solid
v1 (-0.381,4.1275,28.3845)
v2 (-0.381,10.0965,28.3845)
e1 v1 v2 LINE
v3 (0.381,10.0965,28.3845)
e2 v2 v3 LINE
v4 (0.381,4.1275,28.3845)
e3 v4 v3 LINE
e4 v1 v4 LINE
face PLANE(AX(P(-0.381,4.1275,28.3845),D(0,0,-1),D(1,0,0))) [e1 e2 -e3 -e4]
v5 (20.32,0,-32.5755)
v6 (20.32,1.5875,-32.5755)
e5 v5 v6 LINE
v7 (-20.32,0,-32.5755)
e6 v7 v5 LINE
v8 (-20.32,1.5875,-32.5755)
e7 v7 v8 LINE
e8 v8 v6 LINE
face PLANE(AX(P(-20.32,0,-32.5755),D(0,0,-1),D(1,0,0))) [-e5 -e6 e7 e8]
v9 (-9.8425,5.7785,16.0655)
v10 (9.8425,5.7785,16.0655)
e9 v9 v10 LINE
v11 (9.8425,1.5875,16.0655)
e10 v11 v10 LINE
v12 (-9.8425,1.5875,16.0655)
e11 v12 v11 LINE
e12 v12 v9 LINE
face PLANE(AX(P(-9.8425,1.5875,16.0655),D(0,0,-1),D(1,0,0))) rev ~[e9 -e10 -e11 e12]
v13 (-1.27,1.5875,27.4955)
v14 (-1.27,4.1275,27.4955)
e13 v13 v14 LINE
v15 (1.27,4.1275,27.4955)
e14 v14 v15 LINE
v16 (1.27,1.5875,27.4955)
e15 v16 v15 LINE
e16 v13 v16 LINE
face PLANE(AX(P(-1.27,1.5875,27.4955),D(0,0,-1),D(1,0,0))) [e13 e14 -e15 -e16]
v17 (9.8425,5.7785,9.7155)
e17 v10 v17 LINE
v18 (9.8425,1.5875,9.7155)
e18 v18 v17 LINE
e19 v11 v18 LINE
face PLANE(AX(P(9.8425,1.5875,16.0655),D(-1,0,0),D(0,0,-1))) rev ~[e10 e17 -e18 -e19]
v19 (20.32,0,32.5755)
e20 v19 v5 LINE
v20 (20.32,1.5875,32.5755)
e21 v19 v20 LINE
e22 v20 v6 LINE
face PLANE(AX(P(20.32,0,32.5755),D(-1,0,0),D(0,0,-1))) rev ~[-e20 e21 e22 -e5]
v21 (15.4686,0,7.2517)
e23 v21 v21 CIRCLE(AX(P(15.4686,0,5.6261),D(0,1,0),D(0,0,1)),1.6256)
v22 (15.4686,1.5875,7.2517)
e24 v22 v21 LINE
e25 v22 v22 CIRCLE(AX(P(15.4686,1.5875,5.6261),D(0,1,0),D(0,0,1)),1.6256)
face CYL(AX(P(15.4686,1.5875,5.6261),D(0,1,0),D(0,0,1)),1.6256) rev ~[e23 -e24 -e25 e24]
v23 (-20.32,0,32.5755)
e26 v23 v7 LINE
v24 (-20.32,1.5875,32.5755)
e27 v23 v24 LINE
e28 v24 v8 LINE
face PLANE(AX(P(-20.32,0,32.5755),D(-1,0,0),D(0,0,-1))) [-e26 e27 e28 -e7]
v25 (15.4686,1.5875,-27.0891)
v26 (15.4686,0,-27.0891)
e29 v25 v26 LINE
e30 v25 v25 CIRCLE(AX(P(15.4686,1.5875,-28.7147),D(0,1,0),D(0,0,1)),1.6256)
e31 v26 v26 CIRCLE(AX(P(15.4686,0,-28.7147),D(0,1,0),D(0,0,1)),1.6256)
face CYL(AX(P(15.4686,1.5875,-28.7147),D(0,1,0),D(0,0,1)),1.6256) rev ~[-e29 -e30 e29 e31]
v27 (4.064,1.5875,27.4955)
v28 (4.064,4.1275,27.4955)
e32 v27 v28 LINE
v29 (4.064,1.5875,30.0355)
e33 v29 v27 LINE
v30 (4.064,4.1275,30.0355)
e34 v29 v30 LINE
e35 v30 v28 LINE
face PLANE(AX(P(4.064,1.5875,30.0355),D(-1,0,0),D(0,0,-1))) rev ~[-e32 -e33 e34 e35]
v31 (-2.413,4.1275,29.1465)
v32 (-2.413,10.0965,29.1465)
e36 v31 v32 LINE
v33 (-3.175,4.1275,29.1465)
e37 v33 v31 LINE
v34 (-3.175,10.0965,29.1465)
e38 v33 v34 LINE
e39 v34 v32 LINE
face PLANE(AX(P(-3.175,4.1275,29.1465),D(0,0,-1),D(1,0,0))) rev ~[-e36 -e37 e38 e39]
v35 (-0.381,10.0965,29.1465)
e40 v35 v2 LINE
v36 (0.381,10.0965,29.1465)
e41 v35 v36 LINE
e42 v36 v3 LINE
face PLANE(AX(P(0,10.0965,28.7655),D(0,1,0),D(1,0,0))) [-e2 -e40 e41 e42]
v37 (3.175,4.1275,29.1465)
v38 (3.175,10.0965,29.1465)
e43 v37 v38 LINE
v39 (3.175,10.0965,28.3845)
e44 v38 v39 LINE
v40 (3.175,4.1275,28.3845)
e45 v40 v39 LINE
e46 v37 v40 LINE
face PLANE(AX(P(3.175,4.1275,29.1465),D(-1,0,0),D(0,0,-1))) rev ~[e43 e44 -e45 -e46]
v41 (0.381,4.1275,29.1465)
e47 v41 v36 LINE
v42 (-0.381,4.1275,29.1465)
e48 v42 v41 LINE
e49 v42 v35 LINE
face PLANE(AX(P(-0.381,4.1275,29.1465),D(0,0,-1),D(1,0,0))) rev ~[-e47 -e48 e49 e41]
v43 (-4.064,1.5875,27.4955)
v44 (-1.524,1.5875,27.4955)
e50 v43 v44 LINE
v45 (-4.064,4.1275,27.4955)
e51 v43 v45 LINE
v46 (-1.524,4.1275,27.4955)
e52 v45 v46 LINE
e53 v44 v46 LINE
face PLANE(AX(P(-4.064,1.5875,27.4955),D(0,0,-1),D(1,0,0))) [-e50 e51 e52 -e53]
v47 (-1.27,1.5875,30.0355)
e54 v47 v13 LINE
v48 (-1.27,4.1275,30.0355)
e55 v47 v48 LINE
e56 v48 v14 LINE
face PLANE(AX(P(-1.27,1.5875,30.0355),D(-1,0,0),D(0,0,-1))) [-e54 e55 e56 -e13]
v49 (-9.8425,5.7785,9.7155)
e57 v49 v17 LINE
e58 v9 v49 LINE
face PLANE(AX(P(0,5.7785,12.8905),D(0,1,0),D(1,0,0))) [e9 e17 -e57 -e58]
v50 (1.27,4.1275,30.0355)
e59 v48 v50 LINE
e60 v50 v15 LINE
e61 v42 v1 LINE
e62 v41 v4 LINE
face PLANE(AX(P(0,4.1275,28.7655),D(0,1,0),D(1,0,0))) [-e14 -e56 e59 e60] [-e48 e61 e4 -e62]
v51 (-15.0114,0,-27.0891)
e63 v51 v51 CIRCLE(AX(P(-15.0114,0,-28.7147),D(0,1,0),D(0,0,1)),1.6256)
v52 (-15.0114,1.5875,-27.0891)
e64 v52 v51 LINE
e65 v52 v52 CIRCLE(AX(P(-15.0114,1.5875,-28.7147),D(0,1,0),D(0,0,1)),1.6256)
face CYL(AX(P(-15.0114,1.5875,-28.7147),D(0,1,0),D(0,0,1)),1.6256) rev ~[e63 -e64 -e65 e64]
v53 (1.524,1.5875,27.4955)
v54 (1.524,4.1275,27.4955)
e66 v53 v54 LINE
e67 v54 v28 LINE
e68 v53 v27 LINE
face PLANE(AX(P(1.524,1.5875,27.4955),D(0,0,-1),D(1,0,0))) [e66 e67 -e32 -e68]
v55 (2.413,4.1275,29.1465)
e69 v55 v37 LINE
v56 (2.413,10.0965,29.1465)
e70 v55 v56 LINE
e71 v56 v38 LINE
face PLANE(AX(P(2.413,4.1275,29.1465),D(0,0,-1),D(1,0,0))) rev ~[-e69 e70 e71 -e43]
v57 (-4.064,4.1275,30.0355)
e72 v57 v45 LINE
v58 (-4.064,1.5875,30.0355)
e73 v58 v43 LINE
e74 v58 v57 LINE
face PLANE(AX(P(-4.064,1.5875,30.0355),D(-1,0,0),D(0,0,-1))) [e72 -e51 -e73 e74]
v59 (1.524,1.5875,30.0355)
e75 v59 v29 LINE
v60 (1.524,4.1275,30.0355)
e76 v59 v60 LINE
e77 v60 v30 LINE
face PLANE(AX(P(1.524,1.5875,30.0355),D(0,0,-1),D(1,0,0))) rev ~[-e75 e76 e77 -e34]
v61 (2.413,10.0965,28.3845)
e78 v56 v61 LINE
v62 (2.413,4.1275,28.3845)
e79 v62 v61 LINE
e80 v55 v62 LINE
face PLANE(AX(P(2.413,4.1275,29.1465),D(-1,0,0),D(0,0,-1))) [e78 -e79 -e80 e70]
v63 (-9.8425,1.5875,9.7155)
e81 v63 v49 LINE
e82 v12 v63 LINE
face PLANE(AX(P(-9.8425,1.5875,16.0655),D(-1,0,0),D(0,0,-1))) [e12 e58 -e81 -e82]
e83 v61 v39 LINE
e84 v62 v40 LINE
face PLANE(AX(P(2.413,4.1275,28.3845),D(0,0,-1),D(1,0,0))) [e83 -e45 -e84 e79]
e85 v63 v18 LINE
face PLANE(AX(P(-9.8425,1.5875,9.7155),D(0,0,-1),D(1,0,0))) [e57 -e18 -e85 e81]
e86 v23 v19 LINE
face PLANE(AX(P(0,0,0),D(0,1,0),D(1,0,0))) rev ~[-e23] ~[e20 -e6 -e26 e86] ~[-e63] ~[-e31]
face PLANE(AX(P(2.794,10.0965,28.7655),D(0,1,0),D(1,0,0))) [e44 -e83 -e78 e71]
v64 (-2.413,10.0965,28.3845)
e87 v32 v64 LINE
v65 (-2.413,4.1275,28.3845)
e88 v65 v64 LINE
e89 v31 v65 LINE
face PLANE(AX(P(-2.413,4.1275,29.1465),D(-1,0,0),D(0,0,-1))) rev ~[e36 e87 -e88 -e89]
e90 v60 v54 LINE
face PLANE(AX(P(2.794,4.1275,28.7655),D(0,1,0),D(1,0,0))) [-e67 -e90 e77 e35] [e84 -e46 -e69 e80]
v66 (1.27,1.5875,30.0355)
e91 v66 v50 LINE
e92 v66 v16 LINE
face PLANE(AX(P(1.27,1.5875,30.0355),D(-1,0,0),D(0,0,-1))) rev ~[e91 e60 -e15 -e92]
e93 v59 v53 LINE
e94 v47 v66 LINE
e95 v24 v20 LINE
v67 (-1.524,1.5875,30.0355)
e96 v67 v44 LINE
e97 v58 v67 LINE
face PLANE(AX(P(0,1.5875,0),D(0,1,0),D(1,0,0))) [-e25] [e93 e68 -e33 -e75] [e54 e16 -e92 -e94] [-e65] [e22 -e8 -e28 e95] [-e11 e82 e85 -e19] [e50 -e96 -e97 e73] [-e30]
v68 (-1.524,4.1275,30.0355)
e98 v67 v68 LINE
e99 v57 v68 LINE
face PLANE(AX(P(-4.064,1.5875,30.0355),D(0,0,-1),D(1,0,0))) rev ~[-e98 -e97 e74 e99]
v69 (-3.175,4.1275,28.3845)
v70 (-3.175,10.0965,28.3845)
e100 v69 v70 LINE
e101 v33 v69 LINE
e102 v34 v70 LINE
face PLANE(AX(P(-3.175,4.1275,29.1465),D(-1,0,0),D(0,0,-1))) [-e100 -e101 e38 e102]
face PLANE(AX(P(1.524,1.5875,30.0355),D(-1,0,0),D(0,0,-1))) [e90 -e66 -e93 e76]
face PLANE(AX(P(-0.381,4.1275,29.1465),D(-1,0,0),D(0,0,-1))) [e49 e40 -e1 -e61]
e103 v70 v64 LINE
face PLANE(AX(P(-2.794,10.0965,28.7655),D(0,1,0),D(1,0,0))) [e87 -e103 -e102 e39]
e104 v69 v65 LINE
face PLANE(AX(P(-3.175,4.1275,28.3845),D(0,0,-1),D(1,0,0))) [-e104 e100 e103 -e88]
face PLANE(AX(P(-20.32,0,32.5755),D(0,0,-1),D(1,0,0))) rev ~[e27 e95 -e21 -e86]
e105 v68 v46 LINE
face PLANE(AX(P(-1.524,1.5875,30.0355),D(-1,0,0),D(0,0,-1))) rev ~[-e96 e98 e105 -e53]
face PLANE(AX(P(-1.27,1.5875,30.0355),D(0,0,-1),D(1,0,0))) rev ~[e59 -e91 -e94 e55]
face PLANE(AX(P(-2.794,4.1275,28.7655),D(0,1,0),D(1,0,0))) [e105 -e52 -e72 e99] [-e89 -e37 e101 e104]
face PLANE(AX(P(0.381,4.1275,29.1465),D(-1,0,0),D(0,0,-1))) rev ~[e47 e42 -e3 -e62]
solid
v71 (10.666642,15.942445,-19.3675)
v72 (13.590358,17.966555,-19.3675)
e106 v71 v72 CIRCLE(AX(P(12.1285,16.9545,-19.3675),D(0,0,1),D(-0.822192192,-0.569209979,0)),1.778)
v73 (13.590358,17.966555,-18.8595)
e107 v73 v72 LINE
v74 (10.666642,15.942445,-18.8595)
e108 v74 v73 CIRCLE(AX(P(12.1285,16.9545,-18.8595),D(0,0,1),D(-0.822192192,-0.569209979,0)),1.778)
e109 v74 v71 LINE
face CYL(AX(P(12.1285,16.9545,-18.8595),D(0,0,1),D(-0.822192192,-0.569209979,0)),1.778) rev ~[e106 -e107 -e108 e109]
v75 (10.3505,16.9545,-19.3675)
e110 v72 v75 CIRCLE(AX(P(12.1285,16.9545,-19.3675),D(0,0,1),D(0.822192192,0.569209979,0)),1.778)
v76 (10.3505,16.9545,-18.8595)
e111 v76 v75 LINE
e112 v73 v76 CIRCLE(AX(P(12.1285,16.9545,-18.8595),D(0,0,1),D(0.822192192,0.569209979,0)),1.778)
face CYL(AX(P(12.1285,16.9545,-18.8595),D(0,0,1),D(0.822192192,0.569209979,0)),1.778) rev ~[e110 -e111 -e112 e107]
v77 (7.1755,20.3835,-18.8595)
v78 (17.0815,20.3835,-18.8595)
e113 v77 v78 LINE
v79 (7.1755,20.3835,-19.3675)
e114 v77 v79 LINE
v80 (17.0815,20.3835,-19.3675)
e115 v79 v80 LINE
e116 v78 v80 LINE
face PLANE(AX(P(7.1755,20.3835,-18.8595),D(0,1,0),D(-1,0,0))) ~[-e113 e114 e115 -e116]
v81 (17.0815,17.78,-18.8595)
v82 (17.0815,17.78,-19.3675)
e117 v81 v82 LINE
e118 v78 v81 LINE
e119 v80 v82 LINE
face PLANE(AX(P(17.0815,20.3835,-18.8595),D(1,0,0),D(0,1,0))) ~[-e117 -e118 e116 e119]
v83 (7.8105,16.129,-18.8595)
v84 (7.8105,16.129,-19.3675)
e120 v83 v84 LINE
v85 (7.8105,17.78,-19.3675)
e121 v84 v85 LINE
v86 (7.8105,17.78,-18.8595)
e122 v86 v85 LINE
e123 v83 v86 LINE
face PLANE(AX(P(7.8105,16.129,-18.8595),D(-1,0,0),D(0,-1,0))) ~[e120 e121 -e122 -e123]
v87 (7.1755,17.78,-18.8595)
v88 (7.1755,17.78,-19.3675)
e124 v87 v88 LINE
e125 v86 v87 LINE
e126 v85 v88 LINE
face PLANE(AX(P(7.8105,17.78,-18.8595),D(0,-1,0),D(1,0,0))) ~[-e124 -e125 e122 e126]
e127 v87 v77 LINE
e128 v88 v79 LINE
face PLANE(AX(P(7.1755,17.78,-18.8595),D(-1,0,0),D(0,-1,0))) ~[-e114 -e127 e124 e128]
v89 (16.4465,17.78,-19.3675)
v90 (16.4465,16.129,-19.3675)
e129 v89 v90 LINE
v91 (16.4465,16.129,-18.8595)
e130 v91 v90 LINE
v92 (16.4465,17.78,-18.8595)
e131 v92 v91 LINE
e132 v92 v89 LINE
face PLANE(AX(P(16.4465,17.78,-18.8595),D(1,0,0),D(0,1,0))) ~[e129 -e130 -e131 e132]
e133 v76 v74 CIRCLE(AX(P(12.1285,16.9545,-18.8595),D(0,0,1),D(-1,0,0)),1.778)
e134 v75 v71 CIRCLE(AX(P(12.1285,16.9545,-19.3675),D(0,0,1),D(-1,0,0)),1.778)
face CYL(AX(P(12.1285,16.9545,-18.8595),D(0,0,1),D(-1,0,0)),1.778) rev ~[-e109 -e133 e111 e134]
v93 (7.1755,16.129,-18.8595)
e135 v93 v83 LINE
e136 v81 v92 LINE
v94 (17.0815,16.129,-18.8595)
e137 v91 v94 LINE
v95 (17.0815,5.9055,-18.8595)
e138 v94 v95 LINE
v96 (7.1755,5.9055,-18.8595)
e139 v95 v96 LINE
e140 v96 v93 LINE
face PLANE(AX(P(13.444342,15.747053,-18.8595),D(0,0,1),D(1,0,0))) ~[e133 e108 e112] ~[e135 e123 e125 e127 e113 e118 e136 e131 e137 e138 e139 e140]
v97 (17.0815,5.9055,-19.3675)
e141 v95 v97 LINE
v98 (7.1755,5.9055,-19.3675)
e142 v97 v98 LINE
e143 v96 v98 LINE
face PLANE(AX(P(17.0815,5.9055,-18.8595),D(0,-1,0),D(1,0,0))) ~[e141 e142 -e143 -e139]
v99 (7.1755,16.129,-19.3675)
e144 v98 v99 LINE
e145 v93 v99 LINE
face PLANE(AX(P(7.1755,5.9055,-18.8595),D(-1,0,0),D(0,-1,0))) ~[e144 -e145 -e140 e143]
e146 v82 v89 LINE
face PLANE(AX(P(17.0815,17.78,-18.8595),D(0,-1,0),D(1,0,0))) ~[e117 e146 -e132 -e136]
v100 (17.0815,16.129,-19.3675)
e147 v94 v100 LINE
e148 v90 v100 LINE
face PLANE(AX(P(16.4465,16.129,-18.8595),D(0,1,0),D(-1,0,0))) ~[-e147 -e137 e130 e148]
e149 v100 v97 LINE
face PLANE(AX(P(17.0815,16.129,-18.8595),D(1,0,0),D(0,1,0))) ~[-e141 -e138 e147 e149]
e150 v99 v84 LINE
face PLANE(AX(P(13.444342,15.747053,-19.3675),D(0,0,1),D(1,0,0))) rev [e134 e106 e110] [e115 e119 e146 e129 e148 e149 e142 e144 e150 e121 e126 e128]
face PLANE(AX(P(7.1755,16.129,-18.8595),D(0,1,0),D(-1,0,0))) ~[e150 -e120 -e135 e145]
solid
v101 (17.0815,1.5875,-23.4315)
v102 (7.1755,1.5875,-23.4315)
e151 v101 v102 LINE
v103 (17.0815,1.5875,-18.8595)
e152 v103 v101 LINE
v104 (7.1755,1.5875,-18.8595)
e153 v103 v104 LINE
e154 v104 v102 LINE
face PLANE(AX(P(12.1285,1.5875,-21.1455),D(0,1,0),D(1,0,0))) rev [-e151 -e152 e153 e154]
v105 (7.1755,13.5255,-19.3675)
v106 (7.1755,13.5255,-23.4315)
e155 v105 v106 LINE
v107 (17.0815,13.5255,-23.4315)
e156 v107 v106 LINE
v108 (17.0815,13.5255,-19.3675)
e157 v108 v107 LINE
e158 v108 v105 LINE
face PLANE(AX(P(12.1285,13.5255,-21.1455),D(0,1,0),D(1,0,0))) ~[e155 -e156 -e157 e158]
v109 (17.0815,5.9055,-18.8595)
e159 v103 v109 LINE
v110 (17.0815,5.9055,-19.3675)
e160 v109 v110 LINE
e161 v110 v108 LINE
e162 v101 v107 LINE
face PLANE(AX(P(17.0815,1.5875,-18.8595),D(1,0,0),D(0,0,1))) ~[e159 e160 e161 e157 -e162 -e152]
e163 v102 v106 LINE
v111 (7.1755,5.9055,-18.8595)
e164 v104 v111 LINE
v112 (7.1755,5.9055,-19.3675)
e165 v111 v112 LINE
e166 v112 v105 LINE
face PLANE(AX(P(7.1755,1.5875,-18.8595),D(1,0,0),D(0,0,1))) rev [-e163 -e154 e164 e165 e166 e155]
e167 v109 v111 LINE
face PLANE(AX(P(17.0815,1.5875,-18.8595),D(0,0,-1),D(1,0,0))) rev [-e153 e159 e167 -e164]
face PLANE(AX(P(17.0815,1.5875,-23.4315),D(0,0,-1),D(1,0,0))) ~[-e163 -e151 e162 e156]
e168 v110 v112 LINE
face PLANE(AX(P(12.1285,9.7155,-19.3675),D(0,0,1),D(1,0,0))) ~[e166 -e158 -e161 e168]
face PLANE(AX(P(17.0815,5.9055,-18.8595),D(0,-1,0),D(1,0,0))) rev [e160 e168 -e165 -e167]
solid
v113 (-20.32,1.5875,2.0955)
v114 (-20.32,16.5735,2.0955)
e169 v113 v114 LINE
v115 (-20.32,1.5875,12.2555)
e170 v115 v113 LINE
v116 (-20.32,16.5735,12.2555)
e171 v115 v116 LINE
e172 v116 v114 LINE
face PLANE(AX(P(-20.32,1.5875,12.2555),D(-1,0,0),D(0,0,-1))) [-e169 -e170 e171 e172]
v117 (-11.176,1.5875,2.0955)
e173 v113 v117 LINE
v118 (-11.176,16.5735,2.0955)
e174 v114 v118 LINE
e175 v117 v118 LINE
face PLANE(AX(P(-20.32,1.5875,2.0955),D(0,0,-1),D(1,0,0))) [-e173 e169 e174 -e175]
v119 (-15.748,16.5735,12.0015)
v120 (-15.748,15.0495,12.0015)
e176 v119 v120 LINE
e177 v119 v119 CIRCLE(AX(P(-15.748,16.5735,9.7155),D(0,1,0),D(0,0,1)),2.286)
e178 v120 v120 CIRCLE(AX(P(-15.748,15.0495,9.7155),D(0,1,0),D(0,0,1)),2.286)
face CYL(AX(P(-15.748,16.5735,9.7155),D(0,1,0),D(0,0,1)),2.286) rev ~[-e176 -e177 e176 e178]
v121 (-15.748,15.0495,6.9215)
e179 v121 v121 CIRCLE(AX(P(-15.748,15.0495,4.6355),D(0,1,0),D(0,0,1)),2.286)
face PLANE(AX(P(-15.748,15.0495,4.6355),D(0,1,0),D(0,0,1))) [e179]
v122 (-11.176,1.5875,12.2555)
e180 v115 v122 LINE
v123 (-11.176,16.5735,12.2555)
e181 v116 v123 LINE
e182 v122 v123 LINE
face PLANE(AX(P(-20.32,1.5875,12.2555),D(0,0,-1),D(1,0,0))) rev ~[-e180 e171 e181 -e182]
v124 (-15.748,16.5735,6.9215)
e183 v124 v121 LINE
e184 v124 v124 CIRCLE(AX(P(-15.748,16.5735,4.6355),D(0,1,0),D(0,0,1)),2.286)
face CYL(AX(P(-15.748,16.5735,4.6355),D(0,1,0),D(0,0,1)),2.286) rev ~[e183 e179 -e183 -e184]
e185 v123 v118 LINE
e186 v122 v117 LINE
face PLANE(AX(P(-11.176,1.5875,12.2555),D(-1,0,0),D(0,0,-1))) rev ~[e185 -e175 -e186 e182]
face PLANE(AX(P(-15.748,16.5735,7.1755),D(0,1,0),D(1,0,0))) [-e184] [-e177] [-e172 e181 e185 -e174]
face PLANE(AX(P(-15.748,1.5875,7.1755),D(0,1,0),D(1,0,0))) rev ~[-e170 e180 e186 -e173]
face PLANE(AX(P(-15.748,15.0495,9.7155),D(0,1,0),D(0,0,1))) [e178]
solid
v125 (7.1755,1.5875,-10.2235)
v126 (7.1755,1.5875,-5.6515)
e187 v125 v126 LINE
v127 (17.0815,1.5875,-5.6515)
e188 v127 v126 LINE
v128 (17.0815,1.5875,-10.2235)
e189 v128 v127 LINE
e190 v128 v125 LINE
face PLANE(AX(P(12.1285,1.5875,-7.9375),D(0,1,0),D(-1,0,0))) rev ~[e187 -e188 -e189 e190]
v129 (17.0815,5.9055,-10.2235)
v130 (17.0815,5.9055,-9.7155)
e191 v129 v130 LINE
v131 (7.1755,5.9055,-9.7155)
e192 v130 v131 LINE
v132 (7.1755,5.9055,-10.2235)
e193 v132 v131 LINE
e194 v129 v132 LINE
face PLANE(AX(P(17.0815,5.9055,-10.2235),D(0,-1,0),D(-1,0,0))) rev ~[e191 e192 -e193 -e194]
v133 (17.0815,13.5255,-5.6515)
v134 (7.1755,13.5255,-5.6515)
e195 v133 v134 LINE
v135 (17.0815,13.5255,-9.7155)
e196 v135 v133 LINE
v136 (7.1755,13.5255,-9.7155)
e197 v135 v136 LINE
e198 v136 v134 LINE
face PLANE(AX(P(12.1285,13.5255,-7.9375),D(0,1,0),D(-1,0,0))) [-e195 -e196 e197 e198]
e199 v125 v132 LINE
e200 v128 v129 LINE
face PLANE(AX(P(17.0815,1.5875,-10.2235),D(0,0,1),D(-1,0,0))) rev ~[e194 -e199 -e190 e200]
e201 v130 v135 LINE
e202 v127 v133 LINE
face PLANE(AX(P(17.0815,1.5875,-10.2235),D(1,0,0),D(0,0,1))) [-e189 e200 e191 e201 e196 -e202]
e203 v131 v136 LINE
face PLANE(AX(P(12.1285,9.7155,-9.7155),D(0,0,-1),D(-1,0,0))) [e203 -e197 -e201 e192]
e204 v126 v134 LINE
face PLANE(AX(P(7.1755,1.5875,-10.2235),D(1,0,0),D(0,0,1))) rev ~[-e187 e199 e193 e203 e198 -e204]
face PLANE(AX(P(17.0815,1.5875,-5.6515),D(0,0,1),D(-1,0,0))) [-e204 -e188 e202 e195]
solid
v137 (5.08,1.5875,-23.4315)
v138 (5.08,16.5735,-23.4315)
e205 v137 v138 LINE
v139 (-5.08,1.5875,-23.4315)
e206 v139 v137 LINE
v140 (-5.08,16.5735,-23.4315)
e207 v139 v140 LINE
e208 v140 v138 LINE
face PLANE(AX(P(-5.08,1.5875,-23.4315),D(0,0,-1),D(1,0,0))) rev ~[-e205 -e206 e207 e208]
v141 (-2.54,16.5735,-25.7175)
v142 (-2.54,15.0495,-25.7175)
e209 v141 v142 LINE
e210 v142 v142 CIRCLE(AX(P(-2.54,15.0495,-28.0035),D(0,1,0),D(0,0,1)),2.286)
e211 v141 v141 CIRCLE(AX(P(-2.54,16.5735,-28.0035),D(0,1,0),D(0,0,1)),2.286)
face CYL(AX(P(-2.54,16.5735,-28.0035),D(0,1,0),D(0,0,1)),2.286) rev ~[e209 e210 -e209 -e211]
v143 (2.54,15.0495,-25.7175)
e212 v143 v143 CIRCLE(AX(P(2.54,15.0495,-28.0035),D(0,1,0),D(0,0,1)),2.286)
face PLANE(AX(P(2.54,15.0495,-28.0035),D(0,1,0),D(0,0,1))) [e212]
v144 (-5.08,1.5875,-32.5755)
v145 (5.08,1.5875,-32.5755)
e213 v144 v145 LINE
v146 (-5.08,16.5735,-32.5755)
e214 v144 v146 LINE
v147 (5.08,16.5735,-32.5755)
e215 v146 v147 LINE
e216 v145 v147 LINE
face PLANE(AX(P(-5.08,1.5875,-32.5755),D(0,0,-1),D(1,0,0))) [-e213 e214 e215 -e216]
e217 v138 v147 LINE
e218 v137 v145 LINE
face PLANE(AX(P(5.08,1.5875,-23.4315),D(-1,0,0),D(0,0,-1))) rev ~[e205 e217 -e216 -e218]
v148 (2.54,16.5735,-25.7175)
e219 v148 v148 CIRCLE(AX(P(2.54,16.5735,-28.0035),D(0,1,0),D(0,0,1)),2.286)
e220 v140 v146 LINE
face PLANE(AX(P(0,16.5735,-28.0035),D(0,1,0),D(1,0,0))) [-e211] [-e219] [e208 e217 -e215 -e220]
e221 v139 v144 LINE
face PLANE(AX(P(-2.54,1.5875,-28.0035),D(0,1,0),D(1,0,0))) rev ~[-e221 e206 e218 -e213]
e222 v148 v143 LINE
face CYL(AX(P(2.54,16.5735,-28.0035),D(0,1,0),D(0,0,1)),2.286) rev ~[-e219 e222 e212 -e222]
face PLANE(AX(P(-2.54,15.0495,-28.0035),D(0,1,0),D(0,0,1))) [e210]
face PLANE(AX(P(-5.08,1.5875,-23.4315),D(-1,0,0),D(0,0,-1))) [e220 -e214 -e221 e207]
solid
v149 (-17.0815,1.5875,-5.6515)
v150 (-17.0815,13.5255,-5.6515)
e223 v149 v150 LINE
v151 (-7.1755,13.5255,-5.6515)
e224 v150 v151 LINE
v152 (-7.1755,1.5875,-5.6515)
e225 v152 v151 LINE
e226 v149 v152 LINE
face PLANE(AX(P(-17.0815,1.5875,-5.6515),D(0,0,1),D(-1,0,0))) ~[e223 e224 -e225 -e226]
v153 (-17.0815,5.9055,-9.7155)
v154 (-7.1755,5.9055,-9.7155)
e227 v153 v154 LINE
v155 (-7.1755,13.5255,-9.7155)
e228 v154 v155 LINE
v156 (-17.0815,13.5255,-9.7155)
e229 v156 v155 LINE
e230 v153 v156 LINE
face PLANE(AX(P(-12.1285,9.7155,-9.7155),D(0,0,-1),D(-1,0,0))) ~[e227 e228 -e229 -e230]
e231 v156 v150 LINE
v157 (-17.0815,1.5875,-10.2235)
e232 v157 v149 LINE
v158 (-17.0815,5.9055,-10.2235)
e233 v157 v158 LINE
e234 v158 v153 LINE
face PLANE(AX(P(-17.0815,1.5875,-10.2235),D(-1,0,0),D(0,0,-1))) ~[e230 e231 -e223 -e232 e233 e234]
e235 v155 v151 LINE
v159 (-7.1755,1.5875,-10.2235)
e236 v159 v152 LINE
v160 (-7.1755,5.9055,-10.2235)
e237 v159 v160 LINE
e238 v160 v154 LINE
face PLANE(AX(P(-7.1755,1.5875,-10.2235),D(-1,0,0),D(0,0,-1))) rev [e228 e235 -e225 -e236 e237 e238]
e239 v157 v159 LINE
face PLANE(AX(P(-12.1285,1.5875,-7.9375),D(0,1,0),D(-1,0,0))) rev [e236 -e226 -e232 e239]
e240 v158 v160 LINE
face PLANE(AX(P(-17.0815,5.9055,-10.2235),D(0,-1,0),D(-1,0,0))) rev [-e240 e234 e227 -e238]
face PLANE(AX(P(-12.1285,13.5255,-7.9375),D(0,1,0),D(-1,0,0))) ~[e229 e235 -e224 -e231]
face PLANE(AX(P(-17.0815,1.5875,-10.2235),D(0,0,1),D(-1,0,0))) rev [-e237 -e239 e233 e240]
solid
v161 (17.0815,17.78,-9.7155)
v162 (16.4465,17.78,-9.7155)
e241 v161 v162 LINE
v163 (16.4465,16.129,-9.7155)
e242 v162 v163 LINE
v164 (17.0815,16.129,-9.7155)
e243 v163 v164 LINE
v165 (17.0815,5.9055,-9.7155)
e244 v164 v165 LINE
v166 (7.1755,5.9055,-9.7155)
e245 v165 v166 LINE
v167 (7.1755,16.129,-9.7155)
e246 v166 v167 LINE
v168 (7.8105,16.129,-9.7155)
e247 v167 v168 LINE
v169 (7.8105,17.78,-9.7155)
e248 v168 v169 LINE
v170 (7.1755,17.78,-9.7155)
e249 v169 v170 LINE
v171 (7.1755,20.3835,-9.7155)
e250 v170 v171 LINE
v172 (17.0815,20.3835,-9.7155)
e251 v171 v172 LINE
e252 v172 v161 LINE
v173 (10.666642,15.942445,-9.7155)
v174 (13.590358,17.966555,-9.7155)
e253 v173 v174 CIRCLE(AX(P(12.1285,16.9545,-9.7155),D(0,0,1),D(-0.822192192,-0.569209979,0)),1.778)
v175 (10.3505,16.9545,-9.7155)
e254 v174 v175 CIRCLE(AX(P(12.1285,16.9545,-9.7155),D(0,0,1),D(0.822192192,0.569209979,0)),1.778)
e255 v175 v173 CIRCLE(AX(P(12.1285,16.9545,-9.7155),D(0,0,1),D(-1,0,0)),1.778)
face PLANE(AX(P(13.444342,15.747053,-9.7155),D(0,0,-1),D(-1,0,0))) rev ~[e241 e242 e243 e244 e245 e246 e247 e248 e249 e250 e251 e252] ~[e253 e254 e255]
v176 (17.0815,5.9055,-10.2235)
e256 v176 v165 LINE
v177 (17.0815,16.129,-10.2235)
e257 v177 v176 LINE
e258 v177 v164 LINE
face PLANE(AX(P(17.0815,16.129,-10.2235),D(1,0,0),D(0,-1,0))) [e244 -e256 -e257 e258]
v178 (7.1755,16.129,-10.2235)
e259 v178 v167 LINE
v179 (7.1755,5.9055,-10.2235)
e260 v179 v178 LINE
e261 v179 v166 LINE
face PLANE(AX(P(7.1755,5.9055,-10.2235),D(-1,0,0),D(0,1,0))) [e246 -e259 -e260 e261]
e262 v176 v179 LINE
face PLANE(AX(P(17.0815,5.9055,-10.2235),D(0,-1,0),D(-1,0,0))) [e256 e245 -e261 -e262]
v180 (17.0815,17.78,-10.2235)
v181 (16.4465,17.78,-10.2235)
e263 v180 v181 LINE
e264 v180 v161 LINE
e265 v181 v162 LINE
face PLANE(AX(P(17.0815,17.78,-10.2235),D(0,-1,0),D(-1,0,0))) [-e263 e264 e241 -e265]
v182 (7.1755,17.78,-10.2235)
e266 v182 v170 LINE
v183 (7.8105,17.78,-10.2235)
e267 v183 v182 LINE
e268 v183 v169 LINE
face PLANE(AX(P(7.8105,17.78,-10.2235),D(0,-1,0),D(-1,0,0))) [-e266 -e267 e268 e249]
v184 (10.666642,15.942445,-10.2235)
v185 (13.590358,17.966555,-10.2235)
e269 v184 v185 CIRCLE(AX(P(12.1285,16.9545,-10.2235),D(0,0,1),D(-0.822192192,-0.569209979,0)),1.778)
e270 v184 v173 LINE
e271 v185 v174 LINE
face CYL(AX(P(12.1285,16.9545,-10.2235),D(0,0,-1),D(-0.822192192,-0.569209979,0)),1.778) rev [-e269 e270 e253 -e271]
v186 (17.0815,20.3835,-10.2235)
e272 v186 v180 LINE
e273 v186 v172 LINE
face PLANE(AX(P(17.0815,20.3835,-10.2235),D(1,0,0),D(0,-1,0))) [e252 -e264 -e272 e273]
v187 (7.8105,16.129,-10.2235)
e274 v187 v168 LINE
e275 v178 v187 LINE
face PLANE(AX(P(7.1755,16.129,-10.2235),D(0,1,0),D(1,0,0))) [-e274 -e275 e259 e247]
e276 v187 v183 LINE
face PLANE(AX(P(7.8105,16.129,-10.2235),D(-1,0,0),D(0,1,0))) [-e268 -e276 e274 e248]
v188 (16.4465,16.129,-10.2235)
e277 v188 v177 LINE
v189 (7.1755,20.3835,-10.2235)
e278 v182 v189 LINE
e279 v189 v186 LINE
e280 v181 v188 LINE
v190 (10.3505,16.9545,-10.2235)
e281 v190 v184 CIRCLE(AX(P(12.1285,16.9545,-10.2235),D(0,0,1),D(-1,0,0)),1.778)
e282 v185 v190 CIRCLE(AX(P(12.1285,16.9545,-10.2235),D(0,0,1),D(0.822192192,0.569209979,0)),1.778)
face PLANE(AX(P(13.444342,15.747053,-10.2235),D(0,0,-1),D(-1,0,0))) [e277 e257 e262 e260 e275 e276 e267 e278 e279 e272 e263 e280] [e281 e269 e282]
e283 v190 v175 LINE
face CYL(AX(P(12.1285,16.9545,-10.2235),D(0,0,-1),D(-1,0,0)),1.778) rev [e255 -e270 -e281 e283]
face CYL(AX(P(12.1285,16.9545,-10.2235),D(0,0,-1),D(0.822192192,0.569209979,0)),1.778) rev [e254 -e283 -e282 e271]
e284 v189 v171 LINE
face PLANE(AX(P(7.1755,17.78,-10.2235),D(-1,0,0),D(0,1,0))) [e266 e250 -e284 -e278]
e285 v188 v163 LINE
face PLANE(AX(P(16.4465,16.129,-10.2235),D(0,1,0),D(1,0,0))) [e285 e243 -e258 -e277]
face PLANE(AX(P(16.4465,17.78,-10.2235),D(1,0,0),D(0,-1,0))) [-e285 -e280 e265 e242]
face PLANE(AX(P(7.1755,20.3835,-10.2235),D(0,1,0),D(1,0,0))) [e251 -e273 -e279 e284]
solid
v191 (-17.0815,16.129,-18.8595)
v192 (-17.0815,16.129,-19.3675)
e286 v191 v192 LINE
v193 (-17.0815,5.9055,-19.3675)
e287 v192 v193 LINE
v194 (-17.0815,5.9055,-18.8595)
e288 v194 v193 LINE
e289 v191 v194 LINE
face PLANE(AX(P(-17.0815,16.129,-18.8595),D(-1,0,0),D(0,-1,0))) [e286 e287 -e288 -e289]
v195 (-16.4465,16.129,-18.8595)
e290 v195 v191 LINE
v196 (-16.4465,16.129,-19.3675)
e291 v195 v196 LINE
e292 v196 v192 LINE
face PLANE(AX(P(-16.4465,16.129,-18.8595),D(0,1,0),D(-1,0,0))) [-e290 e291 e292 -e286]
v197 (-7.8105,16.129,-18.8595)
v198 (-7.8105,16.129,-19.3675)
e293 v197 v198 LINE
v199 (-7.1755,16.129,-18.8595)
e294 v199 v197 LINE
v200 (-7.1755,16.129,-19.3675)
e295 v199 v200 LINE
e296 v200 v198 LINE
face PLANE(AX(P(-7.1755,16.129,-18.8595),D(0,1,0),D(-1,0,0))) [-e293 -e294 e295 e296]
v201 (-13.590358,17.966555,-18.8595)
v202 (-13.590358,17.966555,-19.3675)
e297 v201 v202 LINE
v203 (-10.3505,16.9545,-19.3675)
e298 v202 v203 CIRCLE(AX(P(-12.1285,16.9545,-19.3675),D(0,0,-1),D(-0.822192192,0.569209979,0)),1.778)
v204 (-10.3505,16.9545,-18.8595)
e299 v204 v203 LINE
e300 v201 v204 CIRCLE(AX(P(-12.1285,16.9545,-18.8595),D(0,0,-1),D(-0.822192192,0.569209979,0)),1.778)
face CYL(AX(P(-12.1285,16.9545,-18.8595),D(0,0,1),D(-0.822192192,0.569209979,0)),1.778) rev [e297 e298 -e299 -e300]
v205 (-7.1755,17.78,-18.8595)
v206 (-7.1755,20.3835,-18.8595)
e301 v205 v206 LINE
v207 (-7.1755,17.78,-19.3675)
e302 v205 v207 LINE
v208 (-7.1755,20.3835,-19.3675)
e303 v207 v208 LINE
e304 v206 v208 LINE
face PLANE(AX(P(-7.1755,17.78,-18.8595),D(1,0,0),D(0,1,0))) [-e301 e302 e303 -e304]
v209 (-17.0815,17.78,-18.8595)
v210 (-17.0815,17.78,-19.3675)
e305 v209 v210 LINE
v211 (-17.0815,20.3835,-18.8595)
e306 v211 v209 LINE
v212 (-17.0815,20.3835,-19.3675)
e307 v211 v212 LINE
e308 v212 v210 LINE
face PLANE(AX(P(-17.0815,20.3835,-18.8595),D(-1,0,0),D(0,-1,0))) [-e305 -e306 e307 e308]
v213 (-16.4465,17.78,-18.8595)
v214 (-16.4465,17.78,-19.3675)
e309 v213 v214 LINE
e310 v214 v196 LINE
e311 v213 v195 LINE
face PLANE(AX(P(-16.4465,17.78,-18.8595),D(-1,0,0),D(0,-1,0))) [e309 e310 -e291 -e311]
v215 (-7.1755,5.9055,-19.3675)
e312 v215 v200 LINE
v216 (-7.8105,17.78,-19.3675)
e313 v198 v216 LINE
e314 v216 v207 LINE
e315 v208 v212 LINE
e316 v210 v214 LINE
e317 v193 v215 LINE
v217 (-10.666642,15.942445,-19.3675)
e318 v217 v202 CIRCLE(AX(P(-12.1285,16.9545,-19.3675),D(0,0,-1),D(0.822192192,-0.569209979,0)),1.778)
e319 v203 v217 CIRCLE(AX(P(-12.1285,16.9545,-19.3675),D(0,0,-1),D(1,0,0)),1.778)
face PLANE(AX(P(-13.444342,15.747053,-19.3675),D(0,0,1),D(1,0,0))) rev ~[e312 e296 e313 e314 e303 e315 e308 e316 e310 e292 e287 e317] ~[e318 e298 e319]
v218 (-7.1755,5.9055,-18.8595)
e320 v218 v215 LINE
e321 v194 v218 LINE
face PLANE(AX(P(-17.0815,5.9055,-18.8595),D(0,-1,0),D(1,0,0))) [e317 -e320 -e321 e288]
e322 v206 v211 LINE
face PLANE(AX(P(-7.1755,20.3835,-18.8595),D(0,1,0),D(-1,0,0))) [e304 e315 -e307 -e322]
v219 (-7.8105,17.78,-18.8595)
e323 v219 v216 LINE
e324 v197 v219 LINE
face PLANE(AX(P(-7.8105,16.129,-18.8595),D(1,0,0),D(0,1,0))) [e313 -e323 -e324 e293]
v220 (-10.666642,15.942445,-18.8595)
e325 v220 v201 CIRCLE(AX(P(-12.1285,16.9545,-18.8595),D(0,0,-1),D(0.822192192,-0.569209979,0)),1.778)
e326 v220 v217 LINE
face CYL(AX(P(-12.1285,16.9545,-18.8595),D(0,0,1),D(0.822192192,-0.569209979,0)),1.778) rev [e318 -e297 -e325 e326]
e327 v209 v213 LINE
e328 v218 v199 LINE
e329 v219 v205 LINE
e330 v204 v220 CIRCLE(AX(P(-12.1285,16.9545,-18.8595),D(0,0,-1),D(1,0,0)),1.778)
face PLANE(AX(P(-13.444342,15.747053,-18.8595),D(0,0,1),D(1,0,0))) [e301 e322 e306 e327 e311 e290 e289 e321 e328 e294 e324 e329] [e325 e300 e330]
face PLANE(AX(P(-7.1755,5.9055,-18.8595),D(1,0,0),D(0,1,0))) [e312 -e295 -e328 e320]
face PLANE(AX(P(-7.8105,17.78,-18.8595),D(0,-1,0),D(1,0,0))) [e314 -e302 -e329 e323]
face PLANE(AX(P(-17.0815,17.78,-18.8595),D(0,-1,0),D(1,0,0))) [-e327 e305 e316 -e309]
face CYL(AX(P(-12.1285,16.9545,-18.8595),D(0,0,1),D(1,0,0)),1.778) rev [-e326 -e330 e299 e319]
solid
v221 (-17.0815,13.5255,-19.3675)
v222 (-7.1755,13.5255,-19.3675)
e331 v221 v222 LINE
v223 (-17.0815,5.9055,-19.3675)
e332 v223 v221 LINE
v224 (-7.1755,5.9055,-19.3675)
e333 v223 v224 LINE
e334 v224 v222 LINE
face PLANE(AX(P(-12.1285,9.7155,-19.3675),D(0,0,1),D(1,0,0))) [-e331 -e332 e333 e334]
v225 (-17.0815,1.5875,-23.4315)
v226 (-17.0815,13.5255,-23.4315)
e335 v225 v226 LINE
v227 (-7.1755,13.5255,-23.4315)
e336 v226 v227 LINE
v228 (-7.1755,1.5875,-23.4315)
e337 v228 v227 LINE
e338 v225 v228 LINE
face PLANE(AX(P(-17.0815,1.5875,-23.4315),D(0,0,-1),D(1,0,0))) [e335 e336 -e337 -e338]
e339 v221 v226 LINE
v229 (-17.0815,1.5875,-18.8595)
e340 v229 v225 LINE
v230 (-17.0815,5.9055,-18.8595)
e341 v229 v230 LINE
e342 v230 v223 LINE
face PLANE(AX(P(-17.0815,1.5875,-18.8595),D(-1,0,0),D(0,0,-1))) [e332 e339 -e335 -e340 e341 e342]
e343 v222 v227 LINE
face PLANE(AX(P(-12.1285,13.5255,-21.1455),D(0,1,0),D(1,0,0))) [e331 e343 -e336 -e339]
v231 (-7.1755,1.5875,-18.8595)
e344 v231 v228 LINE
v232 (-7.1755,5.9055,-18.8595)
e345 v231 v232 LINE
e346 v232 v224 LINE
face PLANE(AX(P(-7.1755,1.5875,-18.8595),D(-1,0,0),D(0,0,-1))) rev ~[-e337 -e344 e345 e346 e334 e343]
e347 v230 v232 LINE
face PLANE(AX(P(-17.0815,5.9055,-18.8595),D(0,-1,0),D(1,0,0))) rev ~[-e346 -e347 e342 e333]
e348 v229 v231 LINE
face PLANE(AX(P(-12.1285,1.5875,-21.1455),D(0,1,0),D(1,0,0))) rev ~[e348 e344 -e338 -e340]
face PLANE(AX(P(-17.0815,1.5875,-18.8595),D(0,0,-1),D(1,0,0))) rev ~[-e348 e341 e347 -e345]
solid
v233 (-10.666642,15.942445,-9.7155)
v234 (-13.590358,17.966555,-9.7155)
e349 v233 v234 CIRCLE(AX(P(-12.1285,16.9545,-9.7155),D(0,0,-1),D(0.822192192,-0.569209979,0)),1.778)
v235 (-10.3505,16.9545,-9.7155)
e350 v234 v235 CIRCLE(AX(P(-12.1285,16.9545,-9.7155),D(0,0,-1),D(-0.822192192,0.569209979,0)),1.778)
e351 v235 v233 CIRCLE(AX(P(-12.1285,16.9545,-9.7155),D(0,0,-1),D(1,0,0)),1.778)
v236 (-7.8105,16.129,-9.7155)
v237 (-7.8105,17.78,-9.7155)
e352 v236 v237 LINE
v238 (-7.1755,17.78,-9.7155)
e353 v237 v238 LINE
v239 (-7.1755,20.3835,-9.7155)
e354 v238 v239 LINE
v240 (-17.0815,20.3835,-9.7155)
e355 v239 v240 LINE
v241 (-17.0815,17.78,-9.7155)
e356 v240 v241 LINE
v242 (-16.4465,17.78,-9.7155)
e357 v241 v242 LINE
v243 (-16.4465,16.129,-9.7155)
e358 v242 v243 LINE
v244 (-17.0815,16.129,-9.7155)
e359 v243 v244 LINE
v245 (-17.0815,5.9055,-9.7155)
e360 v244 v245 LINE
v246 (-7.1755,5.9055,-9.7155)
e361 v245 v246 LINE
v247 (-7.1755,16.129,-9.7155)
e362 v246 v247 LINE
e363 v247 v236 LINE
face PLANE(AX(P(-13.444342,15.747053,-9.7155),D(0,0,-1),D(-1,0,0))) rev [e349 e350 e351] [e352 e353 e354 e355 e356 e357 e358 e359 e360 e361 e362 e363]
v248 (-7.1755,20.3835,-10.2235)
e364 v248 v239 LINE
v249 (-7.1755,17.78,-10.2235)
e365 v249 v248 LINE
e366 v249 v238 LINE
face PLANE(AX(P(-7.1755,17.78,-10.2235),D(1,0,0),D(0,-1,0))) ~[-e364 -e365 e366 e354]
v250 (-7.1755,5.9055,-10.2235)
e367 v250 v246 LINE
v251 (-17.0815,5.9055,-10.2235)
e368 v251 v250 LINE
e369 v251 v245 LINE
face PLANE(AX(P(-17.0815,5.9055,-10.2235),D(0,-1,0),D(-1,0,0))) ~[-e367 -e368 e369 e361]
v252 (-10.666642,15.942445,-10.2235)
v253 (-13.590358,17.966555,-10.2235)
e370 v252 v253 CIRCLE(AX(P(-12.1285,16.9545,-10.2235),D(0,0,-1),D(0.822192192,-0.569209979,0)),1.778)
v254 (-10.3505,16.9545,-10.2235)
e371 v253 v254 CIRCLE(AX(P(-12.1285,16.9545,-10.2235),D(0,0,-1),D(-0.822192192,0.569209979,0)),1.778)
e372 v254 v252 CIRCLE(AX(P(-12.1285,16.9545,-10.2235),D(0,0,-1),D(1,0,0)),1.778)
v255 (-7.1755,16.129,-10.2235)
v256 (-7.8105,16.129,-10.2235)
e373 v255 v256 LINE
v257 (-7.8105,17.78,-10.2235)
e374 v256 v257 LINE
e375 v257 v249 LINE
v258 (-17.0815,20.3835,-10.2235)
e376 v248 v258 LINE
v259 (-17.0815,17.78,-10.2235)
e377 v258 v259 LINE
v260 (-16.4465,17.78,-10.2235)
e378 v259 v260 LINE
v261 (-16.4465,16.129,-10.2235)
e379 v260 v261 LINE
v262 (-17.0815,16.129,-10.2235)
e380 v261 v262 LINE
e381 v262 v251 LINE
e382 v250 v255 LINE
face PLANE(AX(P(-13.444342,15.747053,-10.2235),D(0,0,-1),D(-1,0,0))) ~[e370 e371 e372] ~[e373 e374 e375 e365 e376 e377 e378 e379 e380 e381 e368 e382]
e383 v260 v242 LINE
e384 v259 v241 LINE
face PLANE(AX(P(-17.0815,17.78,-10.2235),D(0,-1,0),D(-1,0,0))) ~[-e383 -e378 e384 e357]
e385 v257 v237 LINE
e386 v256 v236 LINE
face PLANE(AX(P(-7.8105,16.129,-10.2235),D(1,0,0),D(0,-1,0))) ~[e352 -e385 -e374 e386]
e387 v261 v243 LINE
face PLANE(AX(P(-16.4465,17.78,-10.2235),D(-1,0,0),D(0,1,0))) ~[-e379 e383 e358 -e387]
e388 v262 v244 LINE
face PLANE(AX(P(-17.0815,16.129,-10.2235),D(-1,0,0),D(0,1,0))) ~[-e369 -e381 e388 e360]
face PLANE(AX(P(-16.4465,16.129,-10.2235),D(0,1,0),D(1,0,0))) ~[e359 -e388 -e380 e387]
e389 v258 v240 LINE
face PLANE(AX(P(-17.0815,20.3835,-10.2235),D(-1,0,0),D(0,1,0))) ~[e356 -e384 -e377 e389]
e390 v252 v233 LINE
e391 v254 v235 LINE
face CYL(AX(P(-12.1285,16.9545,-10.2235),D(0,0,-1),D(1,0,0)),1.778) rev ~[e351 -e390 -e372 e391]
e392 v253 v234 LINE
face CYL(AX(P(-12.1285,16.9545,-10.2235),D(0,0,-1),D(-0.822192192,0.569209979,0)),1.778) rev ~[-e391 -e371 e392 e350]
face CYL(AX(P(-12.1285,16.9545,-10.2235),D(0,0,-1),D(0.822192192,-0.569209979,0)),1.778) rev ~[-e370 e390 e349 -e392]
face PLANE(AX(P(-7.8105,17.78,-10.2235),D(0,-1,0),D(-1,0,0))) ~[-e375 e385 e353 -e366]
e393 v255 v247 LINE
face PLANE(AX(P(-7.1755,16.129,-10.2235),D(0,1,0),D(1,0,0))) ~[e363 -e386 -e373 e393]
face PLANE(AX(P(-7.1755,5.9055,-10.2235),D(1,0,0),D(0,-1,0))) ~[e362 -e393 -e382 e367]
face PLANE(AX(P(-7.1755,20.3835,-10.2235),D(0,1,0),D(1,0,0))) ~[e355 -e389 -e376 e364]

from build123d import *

# Parameters (mm, degrees)
SKETCH1_W           = 40.64
SKETCH1_H           = 65.151
BOSS_EXTRUDE1_DEPTH = 1.5875
SKETCH2_R           = 1.6256
CUT_EXTRUDE1_DEPTH  = 39.426367985
SKETCH3_W           = 9.144
SKETCH3_H           = 10.16
SKETCH3_R           = 2.286
SKETCH3_W_2         = 10.16
SKETCH3_H_2         = 9.144
BOSS_EXTRUDE2_DEPTH = 14.986
CUT_EXTRUDE2_START  = 14.986
SKETCH3_3_R         = 2.286
CUT_EXTRUDE2_DEPTH  = 1.524
SKETCH4_W           = 9.906
SKETCH4_H           = 4.572
BOSS_EXTRUDE3_DEPTH = 11.938
SKETCH5_W           = 9.906
SKETCH5_H           = 7.62
BOSS_EXTRUDE4_DEPTH = 0.508
SKETCH5_3_W         = 9.906
SKETCH5_3_H         = 7.62
CUT_EXTRUDE3_DEPTH  = 0.508
SKETCH6_W           = 2.54
SKETCH6_H           = 2.54
BOSS_EXTRUDE5_DEPTH = 2.54
SKETCH7_W           = 0.762
SKETCH7_H           = 0.762
BOSS_EXTRUDE6_DEPTH = 5.969
SKETCH8_W           = 19.685
SKETCH8_H           = 6.35
BOSS_EXTRUDE7_DEPTH = 4.191


with BuildPart() as part:
    # Sketch1 → Boss-Extrude1 (new body)
    with BuildSketch(Plane(origin=(0, 0, 0), x_dir=(1, 0, 0), z_dir=(0, 1, 0))):
        Rectangle(SKETCH1_W, SKETCH1_H)
    extrude(amount=BOSS_EXTRUDE1_DEPTH)

    # Sketch2 → Cut-Extrude1 (cut, through all)
    with BuildSketch(Plane(origin=(0, 1.5875, 0), x_dir=(1, 0, 0), z_dir=(0, 1, 0))):
        with Locations(Location((-15.0114, 28.7147, 0), (0, 0, 270))):
            Circle(SKETCH2_R)
        with Locations(Location((15.4686, 28.7147, 0), (0, 0, 270))):
            Circle(SKETCH2_R)
        with Locations(Location((15.4686, -5.6261, 0), (0, 0, 270))):
            Circle(SKETCH2_R)
    extrude(amount=-CUT_EXTRUDE1_DEPTH, mode=Mode.SUBTRACT)

    # Sketch6 → Boss-Extrude5 (add)
    with BuildSketch(Plane(origin=(0, 1.5875, 0), x_dir=(1, 0, 0), z_dir=(0, 1, 0))):
        with Locations((0, -28.7655)):
            Rectangle(SKETCH6_W, SKETCH6_H)
        with Locations((2.794, -28.7655)):
            Rectangle(SKETCH6_W, SKETCH6_H)
        with Locations((-2.794, -28.7655)):
            Rectangle(SKETCH6_W, SKETCH6_H)
    extrude(amount=BOSS_EXTRUDE5_DEPTH)

    # Sketch7 → Boss-Extrude6 (add)
    with BuildSketch(Plane(origin=(0, 4.1275, 0), x_dir=(1, 0, 0), z_dir=(0, 1, 0))):
        with Locations((-2.794, -28.7655)):
            Rectangle(SKETCH7_W, SKETCH7_H)
        with Locations((0, -28.7655)):
            Rectangle(SKETCH7_W, SKETCH7_H)
        with Locations((2.794, -28.7655)):
            Rectangle(SKETCH7_W, SKETCH7_H)
    extrude(amount=BOSS_EXTRUDE6_DEPTH)

    # Sketch8 → Boss-Extrude7 (add)
    with BuildSketch(Plane(origin=(0, 1.5875, 0), x_dir=(1, 0, 0), z_dir=(0, 1, 0))):
        with Locations((0, -12.8905)):
            Rectangle(SKETCH8_W, SKETCH8_H)
    extrude(amount=BOSS_EXTRUDE7_DEPTH)


with BuildPart() as body_2:
    # Sketch3 → Boss-Extrude2 (new body)
    # profile 1 of 6: a face of its own
    with BuildSketch(Plane(origin=(0, 1.5875, 0), x_dir=(1, 0, 0), z_dir=(0, 1, 0))):
        with Locations((-15.748, -7.1755)):
            Rectangle(SKETCH3_W, SKETCH3_H)
        with Locations((-15.748, -9.7155)):
            Circle(SKETCH3_R, mode=Mode.SUBTRACT)
        with Locations((-15.748, -4.6355)):
            Circle(SKETCH3_R, mode=Mode.SUBTRACT)
    # profile 2 of 6: a face of its own
    with BuildSketch(Plane(origin=(0, 1.5875, 0), x_dir=(1, 0, 0), z_dir=(0, 1, 0))):
        with Locations((-15.748, -4.6355)):
            Circle(SKETCH3_R)
    # profile 3 of 6: a face of its own
    with BuildSketch(Plane(origin=(0, 1.5875, 0), x_dir=(1, 0, 0), z_dir=(0, 1, 0))):
        with Locations((-15.748, -9.7155)):
            Circle(SKETCH3_R)
    # profile 4 of 6: a face of its own
    with BuildSketch(Plane(origin=(0, 1.5875, 0), x_dir=(1, 0, 0), z_dir=(0, 1, 0))):
        with Locations((0, 28.0035)):
            Rectangle(SKETCH3_W_2, SKETCH3_H_2)
        with Locations((-2.54, 28.0035)):
            Circle(SKETCH3_R, mode=Mode.SUBTRACT)
        with Locations((2.54, 28.0035)):
            Circle(SKETCH3_R, mode=Mode.SUBTRACT)
    # profile 5 of 6: a face of its own
    with BuildSketch(Plane(origin=(0, 1.5875, 0), x_dir=(1, 0, 0), z_dir=(0, 1, 0))):
        with Locations((2.54, 28.0035)):
            Circle(SKETCH3_R)
    # profile 6 of 6: a face of its own
    with BuildSketch(Plane(origin=(0, 1.5875, 0), x_dir=(1, 0, 0), z_dir=(0, 1, 0))):
        with Locations((-2.54, 28.0035)):
            Circle(SKETCH3_R)
    extrude(amount=BOSS_EXTRUDE2_DEPTH)

    # Sketch3<3> → Cut-Extrude2 (cut)
    with BuildSketch(Plane(origin=(0, 1.5875, 0), x_dir=(1, 0, 0), z_dir=(0, 1, 0)).offset(CUT_EXTRUDE2_START)):
        with Locations(Location((-15.748, -9.7155, 0), (0, 0, 270))):
            Circle(SKETCH3_3_R)
        with Locations(Location((-15.748, -4.6355, 0), (0, 0, 270))):
            Circle(SKETCH3_3_R)
        with Locations(Location((2.54, 28.0035, 0), (0, 0, 270))):
            Circle(SKETCH3_3_R)
        with Locations(Location((-2.54, 28.0035, 0), (0, 0, 270))):
            Circle(SKETCH3_3_R)
    extrude(amount=-CUT_EXTRUDE2_DEPTH, mode=Mode.SUBTRACT)


with BuildPart() as body_3:
    # Sketch4 → Boss-Extrude3 (new body)
    with BuildSketch(Plane(origin=(0, 1.5875, 0), x_dir=(1, 0, 0), z_dir=(0, 1, 0))):
        with Locations((-12.1285, 21.1455)):
            Rectangle(SKETCH4_W, SKETCH4_H)
    extrude(amount=BOSS_EXTRUDE3_DEPTH)

    # Sketch5<3> → Cut-Extrude3 (cut)
    with BuildSketch(Plane.XY.offset(-18.8595)):
        with Locations((-12.1285, 9.7155)):
            Rectangle(SKETCH5_3_W, SKETCH5_3_H)
    extrude(amount=-CUT_EXTRUDE3_DEPTH, mode=Mode.SUBTRACT)


with BuildPart() as body_4:
    # Sketch5 → Boss-Extrude4 (new body)
    with BuildSketch(Plane.XY.offset(-18.8595)):
        with BuildLine():
            Line((-17.0815, 13.5255), (-7.1755, 13.5255))
            Line((-7.1755, 13.5255), (-10.666642283, 15.942444658))
            ThreePointArc((-10.666642283, 15.942444658), (-13.140555342, 15.492642283), (-13.590357717, 17.966555342))
            Line((-13.590357717, 17.966555342), (-17.0815, 20.3835))
            Line((-17.0815, 20.3835), (-17.0815, 17.78))
            Line((-17.0815, 17.78), (-16.4465, 17.78))
            Line((-16.4465, 17.78), (-16.4465, 16.129))
            Line((-16.4465, 16.129), (-17.0815, 16.129))
            Line((-17.0815, 16.129), (-17.0815, 13.5255))
        make_face()
        with BuildLine():
            Line((-10.666642283, 15.942444658), (-7.1755, 13.5255))
            Line((-7.1755, 13.5255), (-7.1755, 16.129))
            Line((-7.1755, 16.129), (-7.8105, 16.129))
            Line((-7.8105, 16.129), (-7.8105, 17.78))
            Line((-7.8105, 17.78), (-7.1755, 17.78))
            Line((-7.1755, 17.78), (-7.1755, 20.3835))
            Line((-7.1755, 20.3835), (-17.0815, 20.3835))
            Line((-17.0815, 20.3835), (-13.590357717, 17.966555342))
            ThreePointArc((-13.590357717, 17.966555342), (-11.598358047, 18.651625072), (-10.3505, 16.9545))
            ThreePointArc((-10.3505, 16.9545), (-10.431374928, 16.424358047), (-10.666642283, 15.942444658))
        make_face()
        with Locations((-12.1285, 9.7155)):
            Rectangle(SKETCH5_W, SKETCH5_H)
    extrude(amount=-BOSS_EXTRUDE4_DEPTH)


with BuildPart() as body_5:
    # Mirror5: mirrored copy
    add(body_3.part.mirror(Plane(origin=(0, 0, 0), x_dir=(0, 0, 1), z_dir=(1, 0, 0))))


with BuildPart() as body_6:
    # Mirror5 2: mirrored copy
    add(body_4.part.mirror(Plane(origin=(0, 0, 0), x_dir=(0, 0, 1), z_dir=(1, 0, 0))))


with BuildPart() as body_7:
    # Mirror6: mirrored copy
    add(body_3.part.mirror(Plane.XY.offset(-14.5415)))


with BuildPart() as body_8:
    # Mirror6 2: mirrored copy
    add(body_4.part.mirror(Plane.XY.offset(-14.5415)))


with BuildPart() as body_9:
    # Mirror6 3: mirrored copy
    add(body_6.part.mirror(Plane.XY.offset(-14.5415)))


with BuildPart() as body_10:
    # Mirror6 4: mirrored copy
    add(body_5.part.mirror(Plane.XY.offset(-14.5415)))


solid = Compound([part.part, body_2.part, body_3.part, body_4.part, body_5.part, body_6.part, body_7.part, body_8.part, body_9.part, body_10.part])
